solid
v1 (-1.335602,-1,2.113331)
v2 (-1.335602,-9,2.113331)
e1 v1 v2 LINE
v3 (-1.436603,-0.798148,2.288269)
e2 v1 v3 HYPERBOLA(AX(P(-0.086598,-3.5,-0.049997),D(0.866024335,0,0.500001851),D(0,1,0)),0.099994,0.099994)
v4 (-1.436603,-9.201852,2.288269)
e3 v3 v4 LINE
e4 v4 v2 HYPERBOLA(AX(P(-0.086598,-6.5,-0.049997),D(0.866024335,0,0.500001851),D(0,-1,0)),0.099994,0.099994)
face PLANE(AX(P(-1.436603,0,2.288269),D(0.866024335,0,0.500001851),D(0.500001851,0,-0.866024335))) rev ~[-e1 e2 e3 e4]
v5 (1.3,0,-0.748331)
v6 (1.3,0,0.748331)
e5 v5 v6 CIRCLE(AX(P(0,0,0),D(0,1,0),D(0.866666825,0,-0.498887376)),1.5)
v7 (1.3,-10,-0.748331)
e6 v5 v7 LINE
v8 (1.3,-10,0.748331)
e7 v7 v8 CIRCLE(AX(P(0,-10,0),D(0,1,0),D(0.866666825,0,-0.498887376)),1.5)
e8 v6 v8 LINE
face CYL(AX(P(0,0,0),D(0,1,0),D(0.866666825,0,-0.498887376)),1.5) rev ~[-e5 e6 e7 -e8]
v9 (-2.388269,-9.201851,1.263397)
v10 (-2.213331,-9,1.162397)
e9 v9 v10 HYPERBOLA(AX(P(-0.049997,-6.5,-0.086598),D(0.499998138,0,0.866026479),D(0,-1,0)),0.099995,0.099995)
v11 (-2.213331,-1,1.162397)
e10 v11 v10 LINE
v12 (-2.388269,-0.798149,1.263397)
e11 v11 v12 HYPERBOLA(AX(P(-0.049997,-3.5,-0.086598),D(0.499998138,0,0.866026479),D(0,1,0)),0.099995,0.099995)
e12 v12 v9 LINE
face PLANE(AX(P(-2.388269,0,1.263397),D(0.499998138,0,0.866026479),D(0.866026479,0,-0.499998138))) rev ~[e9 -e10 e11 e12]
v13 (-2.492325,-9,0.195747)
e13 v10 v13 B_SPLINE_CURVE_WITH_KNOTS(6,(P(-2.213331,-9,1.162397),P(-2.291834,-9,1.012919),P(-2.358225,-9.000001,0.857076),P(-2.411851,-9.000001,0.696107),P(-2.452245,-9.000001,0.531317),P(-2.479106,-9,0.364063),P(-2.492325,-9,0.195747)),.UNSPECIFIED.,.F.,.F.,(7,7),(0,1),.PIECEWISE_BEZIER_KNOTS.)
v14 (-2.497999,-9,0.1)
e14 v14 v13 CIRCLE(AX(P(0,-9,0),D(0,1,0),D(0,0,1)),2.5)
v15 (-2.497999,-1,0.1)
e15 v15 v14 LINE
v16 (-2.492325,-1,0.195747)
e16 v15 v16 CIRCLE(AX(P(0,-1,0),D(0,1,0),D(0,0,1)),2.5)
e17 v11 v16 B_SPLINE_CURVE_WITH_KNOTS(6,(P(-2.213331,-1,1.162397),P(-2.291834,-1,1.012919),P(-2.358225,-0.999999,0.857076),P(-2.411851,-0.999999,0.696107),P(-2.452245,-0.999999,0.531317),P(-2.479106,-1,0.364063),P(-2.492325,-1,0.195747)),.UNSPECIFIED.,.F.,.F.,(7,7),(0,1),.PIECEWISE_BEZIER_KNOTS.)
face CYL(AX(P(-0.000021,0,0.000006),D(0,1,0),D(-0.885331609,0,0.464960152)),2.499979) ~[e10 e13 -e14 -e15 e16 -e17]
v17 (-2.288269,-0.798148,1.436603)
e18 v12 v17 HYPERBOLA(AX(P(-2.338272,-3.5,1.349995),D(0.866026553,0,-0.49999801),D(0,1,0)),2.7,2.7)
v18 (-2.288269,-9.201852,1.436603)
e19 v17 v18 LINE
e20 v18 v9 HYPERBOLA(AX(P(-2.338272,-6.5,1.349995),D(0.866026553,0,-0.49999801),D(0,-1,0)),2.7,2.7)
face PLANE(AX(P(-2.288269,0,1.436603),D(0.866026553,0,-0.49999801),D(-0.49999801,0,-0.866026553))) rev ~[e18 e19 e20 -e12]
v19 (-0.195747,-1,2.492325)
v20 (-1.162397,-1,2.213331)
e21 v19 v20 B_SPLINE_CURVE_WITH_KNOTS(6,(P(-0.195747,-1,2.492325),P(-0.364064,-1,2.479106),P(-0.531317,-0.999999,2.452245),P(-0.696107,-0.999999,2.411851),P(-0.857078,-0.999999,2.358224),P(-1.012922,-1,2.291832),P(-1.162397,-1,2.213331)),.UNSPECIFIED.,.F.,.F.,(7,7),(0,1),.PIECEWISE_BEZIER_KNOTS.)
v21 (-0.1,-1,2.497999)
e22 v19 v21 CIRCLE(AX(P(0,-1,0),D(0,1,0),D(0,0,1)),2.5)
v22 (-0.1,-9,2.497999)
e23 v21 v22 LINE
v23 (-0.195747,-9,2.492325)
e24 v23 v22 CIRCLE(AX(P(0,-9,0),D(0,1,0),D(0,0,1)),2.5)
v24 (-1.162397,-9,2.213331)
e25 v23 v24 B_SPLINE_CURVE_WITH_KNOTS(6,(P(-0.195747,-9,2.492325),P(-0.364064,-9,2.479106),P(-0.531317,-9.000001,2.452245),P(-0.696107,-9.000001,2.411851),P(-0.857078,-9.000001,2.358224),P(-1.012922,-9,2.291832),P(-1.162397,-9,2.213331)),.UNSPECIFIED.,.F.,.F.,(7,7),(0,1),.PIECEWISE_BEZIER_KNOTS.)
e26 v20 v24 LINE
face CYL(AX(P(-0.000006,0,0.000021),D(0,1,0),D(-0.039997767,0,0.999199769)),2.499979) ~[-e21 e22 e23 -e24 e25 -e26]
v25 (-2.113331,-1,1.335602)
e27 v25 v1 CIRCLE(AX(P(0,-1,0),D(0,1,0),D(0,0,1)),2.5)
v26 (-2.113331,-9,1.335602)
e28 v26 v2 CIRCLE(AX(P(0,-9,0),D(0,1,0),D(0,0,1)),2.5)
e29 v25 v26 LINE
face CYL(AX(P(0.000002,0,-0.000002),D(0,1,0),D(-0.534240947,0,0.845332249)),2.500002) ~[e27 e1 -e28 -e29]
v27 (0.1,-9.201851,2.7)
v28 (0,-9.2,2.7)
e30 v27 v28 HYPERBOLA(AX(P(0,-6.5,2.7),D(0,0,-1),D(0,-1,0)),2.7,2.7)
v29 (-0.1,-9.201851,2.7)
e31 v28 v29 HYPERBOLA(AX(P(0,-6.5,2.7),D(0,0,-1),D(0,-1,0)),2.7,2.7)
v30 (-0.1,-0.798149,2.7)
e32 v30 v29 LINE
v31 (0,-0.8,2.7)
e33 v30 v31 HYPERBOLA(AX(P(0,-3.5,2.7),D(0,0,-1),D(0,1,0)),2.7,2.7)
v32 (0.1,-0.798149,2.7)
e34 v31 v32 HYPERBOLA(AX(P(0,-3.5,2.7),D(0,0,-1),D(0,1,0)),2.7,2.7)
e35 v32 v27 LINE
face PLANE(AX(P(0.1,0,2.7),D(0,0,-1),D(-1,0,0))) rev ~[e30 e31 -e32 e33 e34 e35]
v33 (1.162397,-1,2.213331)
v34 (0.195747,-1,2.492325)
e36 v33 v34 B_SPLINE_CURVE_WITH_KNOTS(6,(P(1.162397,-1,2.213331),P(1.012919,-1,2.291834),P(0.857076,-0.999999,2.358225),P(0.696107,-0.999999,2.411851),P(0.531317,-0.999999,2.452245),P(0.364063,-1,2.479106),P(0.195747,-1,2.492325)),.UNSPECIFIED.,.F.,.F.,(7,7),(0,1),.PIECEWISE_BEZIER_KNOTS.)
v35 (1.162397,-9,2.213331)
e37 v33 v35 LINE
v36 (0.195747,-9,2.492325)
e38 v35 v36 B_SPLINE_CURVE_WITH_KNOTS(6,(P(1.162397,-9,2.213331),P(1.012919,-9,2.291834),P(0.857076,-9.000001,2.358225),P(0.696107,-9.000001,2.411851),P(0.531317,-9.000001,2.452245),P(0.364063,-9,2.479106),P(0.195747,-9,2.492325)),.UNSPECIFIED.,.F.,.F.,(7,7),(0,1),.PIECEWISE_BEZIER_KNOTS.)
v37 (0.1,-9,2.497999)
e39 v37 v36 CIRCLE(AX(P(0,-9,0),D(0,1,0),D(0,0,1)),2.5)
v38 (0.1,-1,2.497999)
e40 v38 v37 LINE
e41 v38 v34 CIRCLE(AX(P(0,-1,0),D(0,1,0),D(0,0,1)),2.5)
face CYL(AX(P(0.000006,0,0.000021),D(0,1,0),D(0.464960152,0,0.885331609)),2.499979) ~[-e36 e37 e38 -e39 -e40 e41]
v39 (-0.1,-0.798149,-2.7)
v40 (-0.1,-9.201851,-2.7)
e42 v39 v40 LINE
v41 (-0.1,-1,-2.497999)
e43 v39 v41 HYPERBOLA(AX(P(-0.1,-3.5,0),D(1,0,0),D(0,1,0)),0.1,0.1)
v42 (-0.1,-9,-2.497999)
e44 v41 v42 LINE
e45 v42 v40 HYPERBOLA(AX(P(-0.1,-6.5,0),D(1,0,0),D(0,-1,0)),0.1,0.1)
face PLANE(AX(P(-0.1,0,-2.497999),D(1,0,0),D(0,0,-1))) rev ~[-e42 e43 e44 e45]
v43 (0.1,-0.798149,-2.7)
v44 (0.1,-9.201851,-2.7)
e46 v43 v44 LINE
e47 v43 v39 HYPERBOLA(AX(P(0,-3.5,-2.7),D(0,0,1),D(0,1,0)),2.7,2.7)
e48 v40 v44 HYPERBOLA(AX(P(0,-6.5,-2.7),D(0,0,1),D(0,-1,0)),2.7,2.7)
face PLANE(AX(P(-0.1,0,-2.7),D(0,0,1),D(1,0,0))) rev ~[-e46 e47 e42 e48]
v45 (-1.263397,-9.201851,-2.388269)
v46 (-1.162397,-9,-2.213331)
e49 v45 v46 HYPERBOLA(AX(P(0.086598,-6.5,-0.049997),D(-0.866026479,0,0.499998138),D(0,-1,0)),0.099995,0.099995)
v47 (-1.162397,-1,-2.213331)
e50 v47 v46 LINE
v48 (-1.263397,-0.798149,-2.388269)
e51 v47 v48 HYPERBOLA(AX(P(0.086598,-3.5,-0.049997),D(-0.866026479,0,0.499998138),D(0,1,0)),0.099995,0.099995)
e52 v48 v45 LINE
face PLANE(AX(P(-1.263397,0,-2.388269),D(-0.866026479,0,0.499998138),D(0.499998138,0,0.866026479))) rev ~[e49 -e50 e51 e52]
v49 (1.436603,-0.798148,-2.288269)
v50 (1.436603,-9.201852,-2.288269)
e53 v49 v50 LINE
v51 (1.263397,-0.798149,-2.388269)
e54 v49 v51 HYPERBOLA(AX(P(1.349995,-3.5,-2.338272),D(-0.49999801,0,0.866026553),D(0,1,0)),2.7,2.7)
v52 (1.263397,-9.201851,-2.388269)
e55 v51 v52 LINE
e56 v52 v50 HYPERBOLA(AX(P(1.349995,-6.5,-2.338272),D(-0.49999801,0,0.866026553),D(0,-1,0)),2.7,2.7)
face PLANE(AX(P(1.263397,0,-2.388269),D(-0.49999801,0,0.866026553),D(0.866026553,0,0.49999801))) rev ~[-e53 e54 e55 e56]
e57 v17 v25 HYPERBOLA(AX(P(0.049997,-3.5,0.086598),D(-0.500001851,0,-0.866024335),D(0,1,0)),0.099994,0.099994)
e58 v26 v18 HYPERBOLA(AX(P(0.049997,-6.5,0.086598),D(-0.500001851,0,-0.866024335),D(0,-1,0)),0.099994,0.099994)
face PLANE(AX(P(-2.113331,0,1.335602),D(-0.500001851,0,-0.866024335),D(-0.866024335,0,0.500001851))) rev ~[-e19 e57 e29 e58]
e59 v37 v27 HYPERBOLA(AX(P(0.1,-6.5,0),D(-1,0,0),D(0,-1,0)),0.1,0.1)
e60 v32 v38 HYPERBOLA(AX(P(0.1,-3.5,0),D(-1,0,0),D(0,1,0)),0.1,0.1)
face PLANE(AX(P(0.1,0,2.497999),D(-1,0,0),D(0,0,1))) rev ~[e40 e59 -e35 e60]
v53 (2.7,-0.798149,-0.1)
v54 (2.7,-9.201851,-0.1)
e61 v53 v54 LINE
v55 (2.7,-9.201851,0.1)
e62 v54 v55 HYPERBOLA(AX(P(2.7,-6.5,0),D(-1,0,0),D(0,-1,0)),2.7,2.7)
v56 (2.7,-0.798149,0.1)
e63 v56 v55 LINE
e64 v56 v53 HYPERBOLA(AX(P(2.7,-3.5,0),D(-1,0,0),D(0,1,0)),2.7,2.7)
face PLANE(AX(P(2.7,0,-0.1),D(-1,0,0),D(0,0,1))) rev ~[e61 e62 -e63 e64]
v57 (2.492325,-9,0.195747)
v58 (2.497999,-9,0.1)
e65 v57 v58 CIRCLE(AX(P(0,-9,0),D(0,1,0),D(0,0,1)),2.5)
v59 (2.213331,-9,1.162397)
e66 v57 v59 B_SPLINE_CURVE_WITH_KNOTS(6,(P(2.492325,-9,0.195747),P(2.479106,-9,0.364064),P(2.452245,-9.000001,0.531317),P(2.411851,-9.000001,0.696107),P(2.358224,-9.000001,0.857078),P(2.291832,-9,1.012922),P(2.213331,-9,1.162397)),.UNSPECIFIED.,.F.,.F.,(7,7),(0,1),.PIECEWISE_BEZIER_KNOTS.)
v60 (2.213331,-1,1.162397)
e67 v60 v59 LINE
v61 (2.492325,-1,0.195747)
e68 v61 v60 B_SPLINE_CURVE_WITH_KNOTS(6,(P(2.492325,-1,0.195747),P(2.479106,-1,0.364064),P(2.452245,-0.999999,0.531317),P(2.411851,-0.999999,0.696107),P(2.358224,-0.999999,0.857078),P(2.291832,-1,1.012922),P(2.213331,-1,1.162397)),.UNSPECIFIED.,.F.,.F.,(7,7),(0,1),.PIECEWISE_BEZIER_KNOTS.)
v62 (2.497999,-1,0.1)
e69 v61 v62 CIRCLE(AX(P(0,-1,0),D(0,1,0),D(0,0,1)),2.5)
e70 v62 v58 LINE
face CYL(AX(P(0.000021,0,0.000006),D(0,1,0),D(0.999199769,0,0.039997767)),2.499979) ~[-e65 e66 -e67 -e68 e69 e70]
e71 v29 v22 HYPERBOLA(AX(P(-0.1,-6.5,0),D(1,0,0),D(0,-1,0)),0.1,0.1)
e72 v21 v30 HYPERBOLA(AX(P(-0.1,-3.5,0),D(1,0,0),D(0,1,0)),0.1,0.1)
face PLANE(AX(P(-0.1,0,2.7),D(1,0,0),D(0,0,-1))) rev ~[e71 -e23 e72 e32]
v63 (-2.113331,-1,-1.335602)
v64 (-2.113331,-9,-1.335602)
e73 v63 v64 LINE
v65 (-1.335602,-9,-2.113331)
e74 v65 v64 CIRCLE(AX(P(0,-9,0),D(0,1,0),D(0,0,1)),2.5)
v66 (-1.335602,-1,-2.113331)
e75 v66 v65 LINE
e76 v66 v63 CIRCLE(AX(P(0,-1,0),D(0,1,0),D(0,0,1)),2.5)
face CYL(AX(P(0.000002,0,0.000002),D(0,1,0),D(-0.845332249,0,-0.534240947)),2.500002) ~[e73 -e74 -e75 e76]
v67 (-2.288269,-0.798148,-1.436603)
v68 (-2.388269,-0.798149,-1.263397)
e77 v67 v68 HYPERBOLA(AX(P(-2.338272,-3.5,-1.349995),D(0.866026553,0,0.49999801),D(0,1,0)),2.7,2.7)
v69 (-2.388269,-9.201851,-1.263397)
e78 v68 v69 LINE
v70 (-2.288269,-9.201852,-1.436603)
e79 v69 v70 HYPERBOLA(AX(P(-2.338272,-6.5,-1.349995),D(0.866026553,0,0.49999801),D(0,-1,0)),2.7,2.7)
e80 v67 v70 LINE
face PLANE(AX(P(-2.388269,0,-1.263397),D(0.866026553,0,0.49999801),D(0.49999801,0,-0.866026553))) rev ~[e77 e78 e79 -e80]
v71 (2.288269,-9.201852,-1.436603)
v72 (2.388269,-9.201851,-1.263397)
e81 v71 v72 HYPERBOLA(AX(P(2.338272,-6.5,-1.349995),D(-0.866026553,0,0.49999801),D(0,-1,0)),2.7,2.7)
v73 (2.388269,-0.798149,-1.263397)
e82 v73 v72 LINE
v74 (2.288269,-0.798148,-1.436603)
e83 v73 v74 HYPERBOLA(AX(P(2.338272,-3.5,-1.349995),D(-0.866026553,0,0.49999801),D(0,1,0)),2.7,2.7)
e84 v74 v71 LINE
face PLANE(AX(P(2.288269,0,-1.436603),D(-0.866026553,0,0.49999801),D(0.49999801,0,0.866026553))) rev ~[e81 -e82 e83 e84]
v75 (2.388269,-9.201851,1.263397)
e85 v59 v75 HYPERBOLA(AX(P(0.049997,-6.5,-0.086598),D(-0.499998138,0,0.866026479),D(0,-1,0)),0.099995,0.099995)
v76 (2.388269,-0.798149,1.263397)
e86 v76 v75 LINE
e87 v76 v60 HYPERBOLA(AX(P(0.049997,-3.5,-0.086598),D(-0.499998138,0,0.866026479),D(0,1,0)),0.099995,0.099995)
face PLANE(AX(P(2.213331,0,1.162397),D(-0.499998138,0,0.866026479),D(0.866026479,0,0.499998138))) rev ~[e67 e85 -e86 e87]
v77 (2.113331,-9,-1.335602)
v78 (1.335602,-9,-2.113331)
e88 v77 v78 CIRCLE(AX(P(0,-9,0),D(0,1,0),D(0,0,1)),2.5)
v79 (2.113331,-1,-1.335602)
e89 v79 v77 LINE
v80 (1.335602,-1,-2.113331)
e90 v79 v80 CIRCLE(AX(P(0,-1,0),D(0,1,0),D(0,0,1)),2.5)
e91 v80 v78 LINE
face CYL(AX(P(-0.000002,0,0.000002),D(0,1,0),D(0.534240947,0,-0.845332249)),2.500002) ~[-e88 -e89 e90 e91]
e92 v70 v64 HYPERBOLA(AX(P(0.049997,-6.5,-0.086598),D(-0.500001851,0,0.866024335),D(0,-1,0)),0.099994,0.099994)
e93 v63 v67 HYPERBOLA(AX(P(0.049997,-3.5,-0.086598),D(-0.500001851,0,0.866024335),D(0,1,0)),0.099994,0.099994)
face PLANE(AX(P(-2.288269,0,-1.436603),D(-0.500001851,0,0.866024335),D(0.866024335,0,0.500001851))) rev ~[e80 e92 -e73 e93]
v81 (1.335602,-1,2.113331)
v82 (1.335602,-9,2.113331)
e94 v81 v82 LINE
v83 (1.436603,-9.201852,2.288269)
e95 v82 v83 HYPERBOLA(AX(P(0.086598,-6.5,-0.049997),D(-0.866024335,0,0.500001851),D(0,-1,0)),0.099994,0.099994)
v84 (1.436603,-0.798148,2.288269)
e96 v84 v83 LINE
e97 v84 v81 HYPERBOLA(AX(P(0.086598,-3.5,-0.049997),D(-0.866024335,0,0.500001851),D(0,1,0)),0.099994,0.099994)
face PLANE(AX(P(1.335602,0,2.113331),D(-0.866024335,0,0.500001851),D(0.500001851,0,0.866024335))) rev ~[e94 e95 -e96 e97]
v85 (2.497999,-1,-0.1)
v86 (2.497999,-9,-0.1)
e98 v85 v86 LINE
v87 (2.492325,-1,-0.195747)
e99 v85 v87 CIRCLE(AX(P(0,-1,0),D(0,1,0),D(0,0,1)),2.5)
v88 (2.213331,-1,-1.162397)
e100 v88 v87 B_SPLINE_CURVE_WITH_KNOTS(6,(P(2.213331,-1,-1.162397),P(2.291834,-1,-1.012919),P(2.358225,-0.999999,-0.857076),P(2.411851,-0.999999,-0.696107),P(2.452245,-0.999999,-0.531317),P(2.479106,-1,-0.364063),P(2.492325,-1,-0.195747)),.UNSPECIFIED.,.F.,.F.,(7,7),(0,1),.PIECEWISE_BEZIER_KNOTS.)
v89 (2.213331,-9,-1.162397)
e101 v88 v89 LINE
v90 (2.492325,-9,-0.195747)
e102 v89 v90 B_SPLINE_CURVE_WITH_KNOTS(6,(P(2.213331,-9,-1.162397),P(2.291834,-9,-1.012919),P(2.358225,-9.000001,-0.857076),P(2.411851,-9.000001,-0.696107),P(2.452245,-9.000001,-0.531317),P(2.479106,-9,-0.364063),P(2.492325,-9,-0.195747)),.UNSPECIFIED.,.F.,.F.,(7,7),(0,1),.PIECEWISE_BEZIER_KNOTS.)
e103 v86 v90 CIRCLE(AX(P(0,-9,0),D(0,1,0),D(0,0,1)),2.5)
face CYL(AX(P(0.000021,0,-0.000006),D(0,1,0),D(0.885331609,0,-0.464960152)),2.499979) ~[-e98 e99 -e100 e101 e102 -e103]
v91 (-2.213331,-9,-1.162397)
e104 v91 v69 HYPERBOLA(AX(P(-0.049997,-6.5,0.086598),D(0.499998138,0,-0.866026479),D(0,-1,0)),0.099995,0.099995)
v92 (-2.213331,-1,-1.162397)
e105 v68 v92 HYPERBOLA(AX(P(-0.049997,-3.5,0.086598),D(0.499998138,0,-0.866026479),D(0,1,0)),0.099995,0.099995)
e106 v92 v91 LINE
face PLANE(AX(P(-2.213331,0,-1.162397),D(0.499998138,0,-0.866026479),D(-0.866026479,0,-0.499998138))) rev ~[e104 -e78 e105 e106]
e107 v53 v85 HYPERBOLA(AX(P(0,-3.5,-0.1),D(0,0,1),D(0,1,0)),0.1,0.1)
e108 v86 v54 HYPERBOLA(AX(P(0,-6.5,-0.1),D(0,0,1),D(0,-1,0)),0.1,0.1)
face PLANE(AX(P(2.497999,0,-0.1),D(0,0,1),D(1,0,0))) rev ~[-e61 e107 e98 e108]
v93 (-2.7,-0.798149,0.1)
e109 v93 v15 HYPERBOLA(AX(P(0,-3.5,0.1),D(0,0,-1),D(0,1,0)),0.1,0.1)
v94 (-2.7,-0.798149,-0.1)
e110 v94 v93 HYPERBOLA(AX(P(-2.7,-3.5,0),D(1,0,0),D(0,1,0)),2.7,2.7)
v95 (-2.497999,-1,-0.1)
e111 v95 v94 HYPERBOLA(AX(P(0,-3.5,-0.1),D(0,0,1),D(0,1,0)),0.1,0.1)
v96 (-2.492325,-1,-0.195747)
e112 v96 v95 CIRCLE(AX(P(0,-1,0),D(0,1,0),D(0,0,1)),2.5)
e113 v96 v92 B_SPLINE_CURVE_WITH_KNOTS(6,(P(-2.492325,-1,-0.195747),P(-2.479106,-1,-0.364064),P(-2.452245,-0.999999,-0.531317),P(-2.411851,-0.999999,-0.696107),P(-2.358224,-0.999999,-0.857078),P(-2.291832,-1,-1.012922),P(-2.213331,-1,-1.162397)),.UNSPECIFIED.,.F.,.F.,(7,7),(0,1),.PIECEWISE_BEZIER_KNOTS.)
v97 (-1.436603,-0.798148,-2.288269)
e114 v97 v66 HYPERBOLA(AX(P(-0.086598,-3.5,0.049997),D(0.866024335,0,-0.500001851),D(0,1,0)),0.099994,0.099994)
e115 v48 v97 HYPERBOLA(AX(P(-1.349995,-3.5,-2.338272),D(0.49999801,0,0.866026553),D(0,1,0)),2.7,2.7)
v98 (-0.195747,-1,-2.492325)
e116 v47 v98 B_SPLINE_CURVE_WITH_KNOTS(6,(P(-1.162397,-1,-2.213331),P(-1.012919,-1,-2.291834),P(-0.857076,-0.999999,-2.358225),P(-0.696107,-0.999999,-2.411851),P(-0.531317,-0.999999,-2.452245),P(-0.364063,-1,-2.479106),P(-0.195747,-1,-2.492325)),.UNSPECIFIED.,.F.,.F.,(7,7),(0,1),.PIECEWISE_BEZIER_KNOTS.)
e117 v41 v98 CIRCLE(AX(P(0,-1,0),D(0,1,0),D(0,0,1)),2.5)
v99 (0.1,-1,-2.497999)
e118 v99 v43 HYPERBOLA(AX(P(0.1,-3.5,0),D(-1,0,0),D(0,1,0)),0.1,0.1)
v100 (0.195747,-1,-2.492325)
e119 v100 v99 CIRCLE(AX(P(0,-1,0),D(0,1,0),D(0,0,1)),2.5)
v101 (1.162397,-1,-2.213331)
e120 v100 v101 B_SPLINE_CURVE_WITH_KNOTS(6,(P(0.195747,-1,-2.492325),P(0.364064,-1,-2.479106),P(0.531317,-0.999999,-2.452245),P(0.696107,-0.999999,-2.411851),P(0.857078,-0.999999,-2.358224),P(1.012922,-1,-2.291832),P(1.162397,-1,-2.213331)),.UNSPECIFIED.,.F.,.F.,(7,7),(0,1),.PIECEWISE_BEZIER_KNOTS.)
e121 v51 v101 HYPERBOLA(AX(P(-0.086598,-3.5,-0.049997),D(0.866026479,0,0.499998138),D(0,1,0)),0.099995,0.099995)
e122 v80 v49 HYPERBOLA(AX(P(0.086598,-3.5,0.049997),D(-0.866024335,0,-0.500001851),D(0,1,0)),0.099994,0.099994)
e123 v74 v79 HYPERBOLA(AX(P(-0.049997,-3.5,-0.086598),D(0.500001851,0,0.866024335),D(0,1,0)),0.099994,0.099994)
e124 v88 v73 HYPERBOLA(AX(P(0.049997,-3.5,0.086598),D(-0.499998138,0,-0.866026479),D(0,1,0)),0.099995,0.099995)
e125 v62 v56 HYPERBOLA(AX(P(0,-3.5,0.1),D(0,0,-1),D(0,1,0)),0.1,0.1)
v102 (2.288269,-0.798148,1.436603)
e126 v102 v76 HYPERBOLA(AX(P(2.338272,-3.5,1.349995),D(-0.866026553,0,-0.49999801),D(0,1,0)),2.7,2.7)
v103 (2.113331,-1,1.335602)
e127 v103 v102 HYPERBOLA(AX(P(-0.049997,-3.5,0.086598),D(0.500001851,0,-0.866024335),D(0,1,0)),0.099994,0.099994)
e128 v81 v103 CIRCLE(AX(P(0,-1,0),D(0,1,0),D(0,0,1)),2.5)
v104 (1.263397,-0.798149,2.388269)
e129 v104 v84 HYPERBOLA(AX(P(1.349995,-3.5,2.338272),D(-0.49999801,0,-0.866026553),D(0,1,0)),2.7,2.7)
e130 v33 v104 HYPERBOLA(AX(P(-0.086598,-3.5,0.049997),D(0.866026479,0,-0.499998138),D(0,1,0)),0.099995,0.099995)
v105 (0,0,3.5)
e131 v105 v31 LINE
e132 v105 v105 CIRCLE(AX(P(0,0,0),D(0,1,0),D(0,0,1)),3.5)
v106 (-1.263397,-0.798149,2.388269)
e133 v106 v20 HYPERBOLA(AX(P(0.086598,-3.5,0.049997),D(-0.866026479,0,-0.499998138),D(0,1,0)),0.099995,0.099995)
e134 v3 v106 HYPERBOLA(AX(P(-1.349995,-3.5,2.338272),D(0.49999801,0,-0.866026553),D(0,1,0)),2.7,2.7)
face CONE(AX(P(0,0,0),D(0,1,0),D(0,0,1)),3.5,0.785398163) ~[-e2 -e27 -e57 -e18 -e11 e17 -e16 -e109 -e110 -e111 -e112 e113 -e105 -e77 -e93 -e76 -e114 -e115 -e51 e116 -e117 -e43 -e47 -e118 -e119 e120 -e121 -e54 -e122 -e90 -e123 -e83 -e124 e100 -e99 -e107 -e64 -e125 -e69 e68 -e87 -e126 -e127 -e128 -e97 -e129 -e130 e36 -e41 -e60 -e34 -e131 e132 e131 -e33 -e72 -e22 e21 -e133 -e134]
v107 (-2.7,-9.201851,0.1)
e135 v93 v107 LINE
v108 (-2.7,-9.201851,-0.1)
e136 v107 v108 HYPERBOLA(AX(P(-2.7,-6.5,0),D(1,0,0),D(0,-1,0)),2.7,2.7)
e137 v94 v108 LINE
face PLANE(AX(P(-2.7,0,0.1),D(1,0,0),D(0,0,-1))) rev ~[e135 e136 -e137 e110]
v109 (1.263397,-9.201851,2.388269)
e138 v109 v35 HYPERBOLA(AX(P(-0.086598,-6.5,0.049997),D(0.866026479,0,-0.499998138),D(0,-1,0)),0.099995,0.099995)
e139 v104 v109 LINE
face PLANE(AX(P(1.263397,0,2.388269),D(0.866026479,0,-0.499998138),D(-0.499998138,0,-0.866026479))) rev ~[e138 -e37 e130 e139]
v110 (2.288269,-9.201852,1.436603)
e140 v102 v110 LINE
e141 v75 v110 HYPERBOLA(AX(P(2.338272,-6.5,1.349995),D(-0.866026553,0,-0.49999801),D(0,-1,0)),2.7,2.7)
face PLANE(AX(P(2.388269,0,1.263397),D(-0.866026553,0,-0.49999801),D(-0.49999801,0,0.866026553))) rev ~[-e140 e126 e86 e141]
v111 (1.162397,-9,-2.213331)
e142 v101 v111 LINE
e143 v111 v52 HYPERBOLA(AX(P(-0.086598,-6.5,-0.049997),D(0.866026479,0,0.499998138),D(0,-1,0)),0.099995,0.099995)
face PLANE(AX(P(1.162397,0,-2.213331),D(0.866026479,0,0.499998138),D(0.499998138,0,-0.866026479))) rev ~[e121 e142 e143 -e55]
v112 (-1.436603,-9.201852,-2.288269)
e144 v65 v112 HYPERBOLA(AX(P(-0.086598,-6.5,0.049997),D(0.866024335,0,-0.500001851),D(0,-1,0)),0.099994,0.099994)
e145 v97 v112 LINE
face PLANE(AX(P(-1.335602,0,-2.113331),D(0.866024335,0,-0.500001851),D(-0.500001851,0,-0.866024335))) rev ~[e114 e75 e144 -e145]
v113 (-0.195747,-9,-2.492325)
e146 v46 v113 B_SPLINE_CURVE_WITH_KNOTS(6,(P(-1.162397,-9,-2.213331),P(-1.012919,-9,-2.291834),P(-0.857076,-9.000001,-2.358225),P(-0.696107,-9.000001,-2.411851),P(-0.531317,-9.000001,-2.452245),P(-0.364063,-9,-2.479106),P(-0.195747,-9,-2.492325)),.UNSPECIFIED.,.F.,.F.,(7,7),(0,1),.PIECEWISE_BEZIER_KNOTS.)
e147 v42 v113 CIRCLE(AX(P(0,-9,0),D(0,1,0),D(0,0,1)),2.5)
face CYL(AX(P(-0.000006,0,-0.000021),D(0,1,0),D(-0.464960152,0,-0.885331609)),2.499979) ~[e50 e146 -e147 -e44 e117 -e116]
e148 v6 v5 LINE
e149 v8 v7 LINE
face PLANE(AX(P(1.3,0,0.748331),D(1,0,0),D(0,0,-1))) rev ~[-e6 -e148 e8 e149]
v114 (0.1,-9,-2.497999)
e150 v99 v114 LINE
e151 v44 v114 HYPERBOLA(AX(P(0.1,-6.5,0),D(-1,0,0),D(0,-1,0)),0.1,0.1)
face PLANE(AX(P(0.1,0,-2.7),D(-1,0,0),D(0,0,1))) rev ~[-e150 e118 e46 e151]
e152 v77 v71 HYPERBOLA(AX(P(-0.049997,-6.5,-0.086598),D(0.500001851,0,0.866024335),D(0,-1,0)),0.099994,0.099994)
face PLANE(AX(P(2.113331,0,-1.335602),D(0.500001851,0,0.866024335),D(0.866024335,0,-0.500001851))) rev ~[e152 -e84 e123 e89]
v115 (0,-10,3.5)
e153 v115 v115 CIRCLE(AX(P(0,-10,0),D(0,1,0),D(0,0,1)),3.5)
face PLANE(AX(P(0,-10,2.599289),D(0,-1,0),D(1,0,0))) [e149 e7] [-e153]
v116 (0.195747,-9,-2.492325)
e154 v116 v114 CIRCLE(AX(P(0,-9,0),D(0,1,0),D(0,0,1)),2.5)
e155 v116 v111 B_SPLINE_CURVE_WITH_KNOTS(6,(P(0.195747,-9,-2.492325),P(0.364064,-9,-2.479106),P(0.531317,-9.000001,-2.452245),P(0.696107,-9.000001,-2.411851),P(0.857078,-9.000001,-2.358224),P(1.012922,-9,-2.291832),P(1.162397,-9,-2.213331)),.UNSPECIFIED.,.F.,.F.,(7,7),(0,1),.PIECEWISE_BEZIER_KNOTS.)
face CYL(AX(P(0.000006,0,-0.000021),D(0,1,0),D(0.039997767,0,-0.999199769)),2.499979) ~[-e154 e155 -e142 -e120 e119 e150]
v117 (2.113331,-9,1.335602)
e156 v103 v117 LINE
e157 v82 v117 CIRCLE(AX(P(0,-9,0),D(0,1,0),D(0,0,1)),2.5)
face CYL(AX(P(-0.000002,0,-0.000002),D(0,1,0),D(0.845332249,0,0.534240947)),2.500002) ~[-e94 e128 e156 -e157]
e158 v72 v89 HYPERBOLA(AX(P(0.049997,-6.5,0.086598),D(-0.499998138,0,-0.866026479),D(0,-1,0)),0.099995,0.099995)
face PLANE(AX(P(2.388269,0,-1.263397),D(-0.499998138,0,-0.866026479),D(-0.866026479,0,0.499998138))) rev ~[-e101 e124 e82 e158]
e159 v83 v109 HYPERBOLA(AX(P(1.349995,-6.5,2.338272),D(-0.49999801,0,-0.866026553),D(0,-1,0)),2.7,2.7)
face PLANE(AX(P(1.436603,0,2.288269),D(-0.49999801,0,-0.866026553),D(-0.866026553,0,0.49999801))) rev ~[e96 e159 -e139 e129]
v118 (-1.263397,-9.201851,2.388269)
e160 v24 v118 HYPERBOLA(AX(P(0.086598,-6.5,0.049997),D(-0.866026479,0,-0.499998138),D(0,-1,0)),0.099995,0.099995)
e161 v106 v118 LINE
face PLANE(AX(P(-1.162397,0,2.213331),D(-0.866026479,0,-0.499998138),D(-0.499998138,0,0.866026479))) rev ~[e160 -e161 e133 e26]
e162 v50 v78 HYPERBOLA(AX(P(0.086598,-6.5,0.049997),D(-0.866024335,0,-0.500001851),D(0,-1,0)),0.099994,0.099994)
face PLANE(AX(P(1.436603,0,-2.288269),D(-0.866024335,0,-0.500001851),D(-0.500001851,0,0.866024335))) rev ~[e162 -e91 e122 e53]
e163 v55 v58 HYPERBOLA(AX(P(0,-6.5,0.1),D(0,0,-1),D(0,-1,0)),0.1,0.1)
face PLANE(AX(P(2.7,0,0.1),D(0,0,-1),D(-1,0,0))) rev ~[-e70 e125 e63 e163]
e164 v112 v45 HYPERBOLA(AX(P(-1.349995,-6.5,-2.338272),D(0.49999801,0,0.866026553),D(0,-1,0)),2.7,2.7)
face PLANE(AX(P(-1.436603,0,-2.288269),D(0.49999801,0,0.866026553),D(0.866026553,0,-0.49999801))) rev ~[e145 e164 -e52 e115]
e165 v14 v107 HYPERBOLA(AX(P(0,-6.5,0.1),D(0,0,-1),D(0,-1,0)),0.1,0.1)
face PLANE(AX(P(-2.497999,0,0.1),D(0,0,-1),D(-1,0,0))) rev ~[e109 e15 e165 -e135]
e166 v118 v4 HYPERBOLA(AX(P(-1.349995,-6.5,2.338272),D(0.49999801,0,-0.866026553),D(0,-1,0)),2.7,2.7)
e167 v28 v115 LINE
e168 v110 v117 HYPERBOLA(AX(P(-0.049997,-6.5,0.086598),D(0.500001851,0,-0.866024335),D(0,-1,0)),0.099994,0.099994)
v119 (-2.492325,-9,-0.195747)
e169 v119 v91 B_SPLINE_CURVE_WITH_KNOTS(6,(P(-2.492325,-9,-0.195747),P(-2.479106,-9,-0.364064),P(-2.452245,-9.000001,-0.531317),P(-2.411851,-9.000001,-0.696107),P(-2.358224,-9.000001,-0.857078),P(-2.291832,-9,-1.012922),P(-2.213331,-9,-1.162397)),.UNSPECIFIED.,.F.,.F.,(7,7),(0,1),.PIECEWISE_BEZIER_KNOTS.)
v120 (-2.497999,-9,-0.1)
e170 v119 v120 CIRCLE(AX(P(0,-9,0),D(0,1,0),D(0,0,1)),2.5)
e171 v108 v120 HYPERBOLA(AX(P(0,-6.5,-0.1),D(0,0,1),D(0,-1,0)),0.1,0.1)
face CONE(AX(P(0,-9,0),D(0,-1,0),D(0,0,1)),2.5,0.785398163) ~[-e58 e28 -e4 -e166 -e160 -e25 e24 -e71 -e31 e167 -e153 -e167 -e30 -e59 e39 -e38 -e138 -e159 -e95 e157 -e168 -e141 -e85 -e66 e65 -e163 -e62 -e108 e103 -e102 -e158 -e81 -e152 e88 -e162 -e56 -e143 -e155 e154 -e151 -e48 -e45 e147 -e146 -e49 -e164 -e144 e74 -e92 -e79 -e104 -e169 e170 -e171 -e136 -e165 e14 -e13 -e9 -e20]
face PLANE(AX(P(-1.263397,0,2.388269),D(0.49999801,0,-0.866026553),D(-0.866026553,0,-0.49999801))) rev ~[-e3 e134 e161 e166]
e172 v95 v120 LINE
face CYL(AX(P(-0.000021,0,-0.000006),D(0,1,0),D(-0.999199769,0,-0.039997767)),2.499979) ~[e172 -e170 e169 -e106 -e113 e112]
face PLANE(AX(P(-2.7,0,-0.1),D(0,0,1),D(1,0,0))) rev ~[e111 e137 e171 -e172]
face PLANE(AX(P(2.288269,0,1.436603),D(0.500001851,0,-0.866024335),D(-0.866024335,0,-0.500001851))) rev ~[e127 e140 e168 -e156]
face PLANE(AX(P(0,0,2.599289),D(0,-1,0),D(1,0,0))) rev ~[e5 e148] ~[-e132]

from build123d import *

# Parameters (mm, degrees)
F1_DEPTH = 10


with BuildPart() as f1:
    # F0 (on Front) → F1 (new body)
    with BuildSketch(Plane.XZ):
        with BuildLine():
            ThreePointArc((-0.1, 2.497999), (0, 2.5), (0.1, 2.497999))
            Line((0.1, 2.497999), (0.1, 2.7))
            Line((0.1, 2.7), (-0.1, 2.7))
            Line((-0.1, 2.7), (-0.1, 2.497999))
        make_face()
        with BuildLine():
            ThreePointArc((-1.335602, 2.113331), (-1.25, 2.165064), (-1.162397, 2.213331))
            Line((-1.162397, 2.213331), (-1.263397, 2.388269))
            Line((-1.263397, 2.388269), (-1.436603, 2.288269))
            Line((-1.436603, 2.288269), (-1.335602, 2.113331))
        make_face()
        with BuildLine():
            ThreePointArc((-2.213331, 1.162397), (-2.165064, 1.25), (-2.113331, 1.335602))
            Line((-2.113331, 1.335602), (-2.288269, 1.436603))
            Line((-2.288269, 1.436603), (-2.388269, 1.263397))
            Line((-2.388269, 1.263397), (-2.213331, 1.162397))
        make_face()
        with BuildLine():
            ThreePointArc((-2.497999, -0.1), (-2.5, 0), (-2.497999, 0.1))
            Line((-2.497999, 0.1), (-2.7, 0.1))
            Line((-2.7, 0.1), (-2.7, -0.1))
            Line((-2.7, -0.1), (-2.497999, -0.1))
        make_face()
        with BuildLine():
            Line((-2.288269, -1.436603), (-2.113331, -1.335602))
            ThreePointArc((-2.113331, -1.335602), (-2.165064, -1.25), (-2.213331, -1.162397))
            Line((-2.213331, -1.162397), (-2.388269, -1.263397))
            Line((-2.388269, -1.263397), (-2.288269, -1.436603))
        make_face()
        with BuildLine():
            Line((-1.263397, -2.388269), (-1.162397, -2.213331))
            ThreePointArc((-1.162397, -2.213331), (-1.25, -2.165064), (-1.335602, -2.113331))
            Line((-1.335602, -2.113331), (-1.436603, -2.288269))
            Line((-1.436603, -2.288269), (-1.263397, -2.388269))
        make_face()
        with BuildLine():
            Line((0.1, -2.7), (0.1, -2.497999))
            ThreePointArc((0.1, -2.497999), (0, -2.5), (-0.1, -2.497999))
            Line((-0.1, -2.497999), (-0.1, -2.7))
            Line((-0.1, -2.7), (0.1, -2.7))
        make_face()
        with BuildLine():
            Line((1.436603, -2.288269), (1.335602, -2.113331))
            ThreePointArc((1.335602, -2.113331), (1.25, -2.165064), (1.162397, -2.213331))
            Line((1.162397, -2.213331), (1.263397, -2.388269))
            Line((1.263397, -2.388269), (1.436603, -2.288269))
        make_face()
        with BuildLine():
            Line((2.388269, -1.263397), (2.213331, -1.162397))
            ThreePointArc((2.213331, -1.162397), (2.165064, -1.25), (2.113331, -1.335602))
            Line((2.113331, -1.335602), (2.288269, -1.436603))
            Line((2.288269, -1.436603), (2.388269, -1.263397))
        make_face()
        with BuildLine():
            ThreePointArc((2.497999, 0.1), (2.4995, 0.05001), (2.5, 0))
            ThreePointArc((2.5, 0), (2.4995, -0.05001), (2.497999, -0.1))
            Line((2.497999, -0.1), (2.7, -0.1))
            Line((2.7, -0.1), (2.7, 0.1))
            Line((2.7, 0.1), (2.497999, 0.1))
        make_face()
        with BuildLine():
            ThreePointArc((2.113331, 1.335602), (2.165064, 1.25), (2.213331, 1.162397))
            Line((2.213331, 1.162397), (2.388269, 1.263397))
            Line((2.388269, 1.263397), (2.288269, 1.436603))
            Line((2.288269, 1.436603), (2.113331, 1.335602))
        make_face()
        with BuildLine():
            ThreePointArc((1.162397, 2.213331), (1.25, 2.165064), (1.335602, 2.113331))
            Line((1.335602, 2.113331), (1.436603, 2.288269))
            Line((1.436603, 2.288269), (1.263397, 2.388269))
            Line((1.263397, 2.388269), (1.162397, 2.213331))
        make_face()
        with BuildLine():
            ThreePointArc((2.497999, -0.1), (2.4995, -0.05001), (2.5, 0))
            ThreePointArc((2.5, 0), (2.4995, 0.05001), (2.497999, 0.1))
            ThreePointArc((2.497999, 0.1), (2.414815, 0.647048), (2.213331, 1.162397))
            ThreePointArc((2.213331, 1.162397), (2.165064, 1.25), (2.113331, 1.335602))
            ThreePointArc((2.113331, 1.335602), (1.767767, 1.767767), (1.335602, 2.113331))
            ThreePointArc((1.335602, 2.113331), (1.25, 2.165064), (1.162397, 2.213331))
            ThreePointArc((1.162397, 2.213331), (0.647048, 2.414815), (0.1, 2.497999))
            ThreePointArc((0.1, 2.497999), (0, 2.5), (-0.1, 2.497999))
            ThreePointArc((-0.1, 2.497999), (-0.647048, 2.414815), (-1.162397, 2.213331))
            ThreePointArc((-1.162397, 2.213331), (-1.25, 2.165064), (-1.335602, 2.113331))
            ThreePointArc((-1.335602, 2.113331), (-1.767767, 1.767767), (-2.113331, 1.335602))
            ThreePointArc((-2.113331, 1.335602), (-2.165064, 1.25), (-2.213331, 1.162397))
            ThreePointArc((-2.213331, 1.162397), (-2.414815, 0.647048), (-2.497999, 0.1))
            ThreePointArc((-2.497999, 0.1), (-2.5, 0), (-2.497999, -0.1))
            ThreePointArc((-2.497999, -0.1), (-2.414815, -0.647048), (-2.213331, -1.162397))
            ThreePointArc((-2.213331, -1.162397), (-2.165064, -1.25), (-2.113331, -1.335602))
            ThreePointArc((-2.113331, -1.335602), (-1.767767, -1.767767), (-1.335602, -2.113331))
            ThreePointArc((-1.335602, -2.113331), (-1.25, -2.165064), (-1.162397, -2.213331))
            ThreePointArc((-1.162397, -2.213331), (-0.647048, -2.414815), (-0.1, -2.497999))
            ThreePointArc((-0.1, -2.497999), (0, -2.5), (0.1, -2.497999))
            ThreePointArc((0.1, -2.497999), (0.647048, -2.414815), (1.162397, -2.213331))
            ThreePointArc((1.162397, -2.213331), (1.25, -2.165064), (1.335602, -2.113331))
            ThreePointArc((1.335602, -2.113331), (1.767767, -1.767767), (2.113331, -1.335602))
            ThreePointArc((2.113331, -1.335602), (2.165064, -1.25), (2.213331, -1.162397))
            ThreePointArc((2.213331, -1.162397), (2.414815, -0.647048), (2.497999, -0.1))
        make_face()
        with BuildLine():
            ThreePointArc((1.3, -0.748331), (-1.5, 0), (1.3, 0.748331))
            Line((1.3, 0.748331), (1.3, -0.748331))
        make_face(mode=Mode.SUBTRACT)
    extrude(amount=F1_DEPTH)

    # F2 (on Right) → F3 (revolve)
    with BuildSketch(Plane.YZ):
        Polygon((-9, 2.5), (-10, 3.5), (-10, 2.5), align=None)
        Polygon((-1, 2.5), (0, 2.5), (0, 3.5), align=None)
    revolve(axis=Axis((0, -5.253473, 0), (0, 1, 0)))


solid = f1.part
